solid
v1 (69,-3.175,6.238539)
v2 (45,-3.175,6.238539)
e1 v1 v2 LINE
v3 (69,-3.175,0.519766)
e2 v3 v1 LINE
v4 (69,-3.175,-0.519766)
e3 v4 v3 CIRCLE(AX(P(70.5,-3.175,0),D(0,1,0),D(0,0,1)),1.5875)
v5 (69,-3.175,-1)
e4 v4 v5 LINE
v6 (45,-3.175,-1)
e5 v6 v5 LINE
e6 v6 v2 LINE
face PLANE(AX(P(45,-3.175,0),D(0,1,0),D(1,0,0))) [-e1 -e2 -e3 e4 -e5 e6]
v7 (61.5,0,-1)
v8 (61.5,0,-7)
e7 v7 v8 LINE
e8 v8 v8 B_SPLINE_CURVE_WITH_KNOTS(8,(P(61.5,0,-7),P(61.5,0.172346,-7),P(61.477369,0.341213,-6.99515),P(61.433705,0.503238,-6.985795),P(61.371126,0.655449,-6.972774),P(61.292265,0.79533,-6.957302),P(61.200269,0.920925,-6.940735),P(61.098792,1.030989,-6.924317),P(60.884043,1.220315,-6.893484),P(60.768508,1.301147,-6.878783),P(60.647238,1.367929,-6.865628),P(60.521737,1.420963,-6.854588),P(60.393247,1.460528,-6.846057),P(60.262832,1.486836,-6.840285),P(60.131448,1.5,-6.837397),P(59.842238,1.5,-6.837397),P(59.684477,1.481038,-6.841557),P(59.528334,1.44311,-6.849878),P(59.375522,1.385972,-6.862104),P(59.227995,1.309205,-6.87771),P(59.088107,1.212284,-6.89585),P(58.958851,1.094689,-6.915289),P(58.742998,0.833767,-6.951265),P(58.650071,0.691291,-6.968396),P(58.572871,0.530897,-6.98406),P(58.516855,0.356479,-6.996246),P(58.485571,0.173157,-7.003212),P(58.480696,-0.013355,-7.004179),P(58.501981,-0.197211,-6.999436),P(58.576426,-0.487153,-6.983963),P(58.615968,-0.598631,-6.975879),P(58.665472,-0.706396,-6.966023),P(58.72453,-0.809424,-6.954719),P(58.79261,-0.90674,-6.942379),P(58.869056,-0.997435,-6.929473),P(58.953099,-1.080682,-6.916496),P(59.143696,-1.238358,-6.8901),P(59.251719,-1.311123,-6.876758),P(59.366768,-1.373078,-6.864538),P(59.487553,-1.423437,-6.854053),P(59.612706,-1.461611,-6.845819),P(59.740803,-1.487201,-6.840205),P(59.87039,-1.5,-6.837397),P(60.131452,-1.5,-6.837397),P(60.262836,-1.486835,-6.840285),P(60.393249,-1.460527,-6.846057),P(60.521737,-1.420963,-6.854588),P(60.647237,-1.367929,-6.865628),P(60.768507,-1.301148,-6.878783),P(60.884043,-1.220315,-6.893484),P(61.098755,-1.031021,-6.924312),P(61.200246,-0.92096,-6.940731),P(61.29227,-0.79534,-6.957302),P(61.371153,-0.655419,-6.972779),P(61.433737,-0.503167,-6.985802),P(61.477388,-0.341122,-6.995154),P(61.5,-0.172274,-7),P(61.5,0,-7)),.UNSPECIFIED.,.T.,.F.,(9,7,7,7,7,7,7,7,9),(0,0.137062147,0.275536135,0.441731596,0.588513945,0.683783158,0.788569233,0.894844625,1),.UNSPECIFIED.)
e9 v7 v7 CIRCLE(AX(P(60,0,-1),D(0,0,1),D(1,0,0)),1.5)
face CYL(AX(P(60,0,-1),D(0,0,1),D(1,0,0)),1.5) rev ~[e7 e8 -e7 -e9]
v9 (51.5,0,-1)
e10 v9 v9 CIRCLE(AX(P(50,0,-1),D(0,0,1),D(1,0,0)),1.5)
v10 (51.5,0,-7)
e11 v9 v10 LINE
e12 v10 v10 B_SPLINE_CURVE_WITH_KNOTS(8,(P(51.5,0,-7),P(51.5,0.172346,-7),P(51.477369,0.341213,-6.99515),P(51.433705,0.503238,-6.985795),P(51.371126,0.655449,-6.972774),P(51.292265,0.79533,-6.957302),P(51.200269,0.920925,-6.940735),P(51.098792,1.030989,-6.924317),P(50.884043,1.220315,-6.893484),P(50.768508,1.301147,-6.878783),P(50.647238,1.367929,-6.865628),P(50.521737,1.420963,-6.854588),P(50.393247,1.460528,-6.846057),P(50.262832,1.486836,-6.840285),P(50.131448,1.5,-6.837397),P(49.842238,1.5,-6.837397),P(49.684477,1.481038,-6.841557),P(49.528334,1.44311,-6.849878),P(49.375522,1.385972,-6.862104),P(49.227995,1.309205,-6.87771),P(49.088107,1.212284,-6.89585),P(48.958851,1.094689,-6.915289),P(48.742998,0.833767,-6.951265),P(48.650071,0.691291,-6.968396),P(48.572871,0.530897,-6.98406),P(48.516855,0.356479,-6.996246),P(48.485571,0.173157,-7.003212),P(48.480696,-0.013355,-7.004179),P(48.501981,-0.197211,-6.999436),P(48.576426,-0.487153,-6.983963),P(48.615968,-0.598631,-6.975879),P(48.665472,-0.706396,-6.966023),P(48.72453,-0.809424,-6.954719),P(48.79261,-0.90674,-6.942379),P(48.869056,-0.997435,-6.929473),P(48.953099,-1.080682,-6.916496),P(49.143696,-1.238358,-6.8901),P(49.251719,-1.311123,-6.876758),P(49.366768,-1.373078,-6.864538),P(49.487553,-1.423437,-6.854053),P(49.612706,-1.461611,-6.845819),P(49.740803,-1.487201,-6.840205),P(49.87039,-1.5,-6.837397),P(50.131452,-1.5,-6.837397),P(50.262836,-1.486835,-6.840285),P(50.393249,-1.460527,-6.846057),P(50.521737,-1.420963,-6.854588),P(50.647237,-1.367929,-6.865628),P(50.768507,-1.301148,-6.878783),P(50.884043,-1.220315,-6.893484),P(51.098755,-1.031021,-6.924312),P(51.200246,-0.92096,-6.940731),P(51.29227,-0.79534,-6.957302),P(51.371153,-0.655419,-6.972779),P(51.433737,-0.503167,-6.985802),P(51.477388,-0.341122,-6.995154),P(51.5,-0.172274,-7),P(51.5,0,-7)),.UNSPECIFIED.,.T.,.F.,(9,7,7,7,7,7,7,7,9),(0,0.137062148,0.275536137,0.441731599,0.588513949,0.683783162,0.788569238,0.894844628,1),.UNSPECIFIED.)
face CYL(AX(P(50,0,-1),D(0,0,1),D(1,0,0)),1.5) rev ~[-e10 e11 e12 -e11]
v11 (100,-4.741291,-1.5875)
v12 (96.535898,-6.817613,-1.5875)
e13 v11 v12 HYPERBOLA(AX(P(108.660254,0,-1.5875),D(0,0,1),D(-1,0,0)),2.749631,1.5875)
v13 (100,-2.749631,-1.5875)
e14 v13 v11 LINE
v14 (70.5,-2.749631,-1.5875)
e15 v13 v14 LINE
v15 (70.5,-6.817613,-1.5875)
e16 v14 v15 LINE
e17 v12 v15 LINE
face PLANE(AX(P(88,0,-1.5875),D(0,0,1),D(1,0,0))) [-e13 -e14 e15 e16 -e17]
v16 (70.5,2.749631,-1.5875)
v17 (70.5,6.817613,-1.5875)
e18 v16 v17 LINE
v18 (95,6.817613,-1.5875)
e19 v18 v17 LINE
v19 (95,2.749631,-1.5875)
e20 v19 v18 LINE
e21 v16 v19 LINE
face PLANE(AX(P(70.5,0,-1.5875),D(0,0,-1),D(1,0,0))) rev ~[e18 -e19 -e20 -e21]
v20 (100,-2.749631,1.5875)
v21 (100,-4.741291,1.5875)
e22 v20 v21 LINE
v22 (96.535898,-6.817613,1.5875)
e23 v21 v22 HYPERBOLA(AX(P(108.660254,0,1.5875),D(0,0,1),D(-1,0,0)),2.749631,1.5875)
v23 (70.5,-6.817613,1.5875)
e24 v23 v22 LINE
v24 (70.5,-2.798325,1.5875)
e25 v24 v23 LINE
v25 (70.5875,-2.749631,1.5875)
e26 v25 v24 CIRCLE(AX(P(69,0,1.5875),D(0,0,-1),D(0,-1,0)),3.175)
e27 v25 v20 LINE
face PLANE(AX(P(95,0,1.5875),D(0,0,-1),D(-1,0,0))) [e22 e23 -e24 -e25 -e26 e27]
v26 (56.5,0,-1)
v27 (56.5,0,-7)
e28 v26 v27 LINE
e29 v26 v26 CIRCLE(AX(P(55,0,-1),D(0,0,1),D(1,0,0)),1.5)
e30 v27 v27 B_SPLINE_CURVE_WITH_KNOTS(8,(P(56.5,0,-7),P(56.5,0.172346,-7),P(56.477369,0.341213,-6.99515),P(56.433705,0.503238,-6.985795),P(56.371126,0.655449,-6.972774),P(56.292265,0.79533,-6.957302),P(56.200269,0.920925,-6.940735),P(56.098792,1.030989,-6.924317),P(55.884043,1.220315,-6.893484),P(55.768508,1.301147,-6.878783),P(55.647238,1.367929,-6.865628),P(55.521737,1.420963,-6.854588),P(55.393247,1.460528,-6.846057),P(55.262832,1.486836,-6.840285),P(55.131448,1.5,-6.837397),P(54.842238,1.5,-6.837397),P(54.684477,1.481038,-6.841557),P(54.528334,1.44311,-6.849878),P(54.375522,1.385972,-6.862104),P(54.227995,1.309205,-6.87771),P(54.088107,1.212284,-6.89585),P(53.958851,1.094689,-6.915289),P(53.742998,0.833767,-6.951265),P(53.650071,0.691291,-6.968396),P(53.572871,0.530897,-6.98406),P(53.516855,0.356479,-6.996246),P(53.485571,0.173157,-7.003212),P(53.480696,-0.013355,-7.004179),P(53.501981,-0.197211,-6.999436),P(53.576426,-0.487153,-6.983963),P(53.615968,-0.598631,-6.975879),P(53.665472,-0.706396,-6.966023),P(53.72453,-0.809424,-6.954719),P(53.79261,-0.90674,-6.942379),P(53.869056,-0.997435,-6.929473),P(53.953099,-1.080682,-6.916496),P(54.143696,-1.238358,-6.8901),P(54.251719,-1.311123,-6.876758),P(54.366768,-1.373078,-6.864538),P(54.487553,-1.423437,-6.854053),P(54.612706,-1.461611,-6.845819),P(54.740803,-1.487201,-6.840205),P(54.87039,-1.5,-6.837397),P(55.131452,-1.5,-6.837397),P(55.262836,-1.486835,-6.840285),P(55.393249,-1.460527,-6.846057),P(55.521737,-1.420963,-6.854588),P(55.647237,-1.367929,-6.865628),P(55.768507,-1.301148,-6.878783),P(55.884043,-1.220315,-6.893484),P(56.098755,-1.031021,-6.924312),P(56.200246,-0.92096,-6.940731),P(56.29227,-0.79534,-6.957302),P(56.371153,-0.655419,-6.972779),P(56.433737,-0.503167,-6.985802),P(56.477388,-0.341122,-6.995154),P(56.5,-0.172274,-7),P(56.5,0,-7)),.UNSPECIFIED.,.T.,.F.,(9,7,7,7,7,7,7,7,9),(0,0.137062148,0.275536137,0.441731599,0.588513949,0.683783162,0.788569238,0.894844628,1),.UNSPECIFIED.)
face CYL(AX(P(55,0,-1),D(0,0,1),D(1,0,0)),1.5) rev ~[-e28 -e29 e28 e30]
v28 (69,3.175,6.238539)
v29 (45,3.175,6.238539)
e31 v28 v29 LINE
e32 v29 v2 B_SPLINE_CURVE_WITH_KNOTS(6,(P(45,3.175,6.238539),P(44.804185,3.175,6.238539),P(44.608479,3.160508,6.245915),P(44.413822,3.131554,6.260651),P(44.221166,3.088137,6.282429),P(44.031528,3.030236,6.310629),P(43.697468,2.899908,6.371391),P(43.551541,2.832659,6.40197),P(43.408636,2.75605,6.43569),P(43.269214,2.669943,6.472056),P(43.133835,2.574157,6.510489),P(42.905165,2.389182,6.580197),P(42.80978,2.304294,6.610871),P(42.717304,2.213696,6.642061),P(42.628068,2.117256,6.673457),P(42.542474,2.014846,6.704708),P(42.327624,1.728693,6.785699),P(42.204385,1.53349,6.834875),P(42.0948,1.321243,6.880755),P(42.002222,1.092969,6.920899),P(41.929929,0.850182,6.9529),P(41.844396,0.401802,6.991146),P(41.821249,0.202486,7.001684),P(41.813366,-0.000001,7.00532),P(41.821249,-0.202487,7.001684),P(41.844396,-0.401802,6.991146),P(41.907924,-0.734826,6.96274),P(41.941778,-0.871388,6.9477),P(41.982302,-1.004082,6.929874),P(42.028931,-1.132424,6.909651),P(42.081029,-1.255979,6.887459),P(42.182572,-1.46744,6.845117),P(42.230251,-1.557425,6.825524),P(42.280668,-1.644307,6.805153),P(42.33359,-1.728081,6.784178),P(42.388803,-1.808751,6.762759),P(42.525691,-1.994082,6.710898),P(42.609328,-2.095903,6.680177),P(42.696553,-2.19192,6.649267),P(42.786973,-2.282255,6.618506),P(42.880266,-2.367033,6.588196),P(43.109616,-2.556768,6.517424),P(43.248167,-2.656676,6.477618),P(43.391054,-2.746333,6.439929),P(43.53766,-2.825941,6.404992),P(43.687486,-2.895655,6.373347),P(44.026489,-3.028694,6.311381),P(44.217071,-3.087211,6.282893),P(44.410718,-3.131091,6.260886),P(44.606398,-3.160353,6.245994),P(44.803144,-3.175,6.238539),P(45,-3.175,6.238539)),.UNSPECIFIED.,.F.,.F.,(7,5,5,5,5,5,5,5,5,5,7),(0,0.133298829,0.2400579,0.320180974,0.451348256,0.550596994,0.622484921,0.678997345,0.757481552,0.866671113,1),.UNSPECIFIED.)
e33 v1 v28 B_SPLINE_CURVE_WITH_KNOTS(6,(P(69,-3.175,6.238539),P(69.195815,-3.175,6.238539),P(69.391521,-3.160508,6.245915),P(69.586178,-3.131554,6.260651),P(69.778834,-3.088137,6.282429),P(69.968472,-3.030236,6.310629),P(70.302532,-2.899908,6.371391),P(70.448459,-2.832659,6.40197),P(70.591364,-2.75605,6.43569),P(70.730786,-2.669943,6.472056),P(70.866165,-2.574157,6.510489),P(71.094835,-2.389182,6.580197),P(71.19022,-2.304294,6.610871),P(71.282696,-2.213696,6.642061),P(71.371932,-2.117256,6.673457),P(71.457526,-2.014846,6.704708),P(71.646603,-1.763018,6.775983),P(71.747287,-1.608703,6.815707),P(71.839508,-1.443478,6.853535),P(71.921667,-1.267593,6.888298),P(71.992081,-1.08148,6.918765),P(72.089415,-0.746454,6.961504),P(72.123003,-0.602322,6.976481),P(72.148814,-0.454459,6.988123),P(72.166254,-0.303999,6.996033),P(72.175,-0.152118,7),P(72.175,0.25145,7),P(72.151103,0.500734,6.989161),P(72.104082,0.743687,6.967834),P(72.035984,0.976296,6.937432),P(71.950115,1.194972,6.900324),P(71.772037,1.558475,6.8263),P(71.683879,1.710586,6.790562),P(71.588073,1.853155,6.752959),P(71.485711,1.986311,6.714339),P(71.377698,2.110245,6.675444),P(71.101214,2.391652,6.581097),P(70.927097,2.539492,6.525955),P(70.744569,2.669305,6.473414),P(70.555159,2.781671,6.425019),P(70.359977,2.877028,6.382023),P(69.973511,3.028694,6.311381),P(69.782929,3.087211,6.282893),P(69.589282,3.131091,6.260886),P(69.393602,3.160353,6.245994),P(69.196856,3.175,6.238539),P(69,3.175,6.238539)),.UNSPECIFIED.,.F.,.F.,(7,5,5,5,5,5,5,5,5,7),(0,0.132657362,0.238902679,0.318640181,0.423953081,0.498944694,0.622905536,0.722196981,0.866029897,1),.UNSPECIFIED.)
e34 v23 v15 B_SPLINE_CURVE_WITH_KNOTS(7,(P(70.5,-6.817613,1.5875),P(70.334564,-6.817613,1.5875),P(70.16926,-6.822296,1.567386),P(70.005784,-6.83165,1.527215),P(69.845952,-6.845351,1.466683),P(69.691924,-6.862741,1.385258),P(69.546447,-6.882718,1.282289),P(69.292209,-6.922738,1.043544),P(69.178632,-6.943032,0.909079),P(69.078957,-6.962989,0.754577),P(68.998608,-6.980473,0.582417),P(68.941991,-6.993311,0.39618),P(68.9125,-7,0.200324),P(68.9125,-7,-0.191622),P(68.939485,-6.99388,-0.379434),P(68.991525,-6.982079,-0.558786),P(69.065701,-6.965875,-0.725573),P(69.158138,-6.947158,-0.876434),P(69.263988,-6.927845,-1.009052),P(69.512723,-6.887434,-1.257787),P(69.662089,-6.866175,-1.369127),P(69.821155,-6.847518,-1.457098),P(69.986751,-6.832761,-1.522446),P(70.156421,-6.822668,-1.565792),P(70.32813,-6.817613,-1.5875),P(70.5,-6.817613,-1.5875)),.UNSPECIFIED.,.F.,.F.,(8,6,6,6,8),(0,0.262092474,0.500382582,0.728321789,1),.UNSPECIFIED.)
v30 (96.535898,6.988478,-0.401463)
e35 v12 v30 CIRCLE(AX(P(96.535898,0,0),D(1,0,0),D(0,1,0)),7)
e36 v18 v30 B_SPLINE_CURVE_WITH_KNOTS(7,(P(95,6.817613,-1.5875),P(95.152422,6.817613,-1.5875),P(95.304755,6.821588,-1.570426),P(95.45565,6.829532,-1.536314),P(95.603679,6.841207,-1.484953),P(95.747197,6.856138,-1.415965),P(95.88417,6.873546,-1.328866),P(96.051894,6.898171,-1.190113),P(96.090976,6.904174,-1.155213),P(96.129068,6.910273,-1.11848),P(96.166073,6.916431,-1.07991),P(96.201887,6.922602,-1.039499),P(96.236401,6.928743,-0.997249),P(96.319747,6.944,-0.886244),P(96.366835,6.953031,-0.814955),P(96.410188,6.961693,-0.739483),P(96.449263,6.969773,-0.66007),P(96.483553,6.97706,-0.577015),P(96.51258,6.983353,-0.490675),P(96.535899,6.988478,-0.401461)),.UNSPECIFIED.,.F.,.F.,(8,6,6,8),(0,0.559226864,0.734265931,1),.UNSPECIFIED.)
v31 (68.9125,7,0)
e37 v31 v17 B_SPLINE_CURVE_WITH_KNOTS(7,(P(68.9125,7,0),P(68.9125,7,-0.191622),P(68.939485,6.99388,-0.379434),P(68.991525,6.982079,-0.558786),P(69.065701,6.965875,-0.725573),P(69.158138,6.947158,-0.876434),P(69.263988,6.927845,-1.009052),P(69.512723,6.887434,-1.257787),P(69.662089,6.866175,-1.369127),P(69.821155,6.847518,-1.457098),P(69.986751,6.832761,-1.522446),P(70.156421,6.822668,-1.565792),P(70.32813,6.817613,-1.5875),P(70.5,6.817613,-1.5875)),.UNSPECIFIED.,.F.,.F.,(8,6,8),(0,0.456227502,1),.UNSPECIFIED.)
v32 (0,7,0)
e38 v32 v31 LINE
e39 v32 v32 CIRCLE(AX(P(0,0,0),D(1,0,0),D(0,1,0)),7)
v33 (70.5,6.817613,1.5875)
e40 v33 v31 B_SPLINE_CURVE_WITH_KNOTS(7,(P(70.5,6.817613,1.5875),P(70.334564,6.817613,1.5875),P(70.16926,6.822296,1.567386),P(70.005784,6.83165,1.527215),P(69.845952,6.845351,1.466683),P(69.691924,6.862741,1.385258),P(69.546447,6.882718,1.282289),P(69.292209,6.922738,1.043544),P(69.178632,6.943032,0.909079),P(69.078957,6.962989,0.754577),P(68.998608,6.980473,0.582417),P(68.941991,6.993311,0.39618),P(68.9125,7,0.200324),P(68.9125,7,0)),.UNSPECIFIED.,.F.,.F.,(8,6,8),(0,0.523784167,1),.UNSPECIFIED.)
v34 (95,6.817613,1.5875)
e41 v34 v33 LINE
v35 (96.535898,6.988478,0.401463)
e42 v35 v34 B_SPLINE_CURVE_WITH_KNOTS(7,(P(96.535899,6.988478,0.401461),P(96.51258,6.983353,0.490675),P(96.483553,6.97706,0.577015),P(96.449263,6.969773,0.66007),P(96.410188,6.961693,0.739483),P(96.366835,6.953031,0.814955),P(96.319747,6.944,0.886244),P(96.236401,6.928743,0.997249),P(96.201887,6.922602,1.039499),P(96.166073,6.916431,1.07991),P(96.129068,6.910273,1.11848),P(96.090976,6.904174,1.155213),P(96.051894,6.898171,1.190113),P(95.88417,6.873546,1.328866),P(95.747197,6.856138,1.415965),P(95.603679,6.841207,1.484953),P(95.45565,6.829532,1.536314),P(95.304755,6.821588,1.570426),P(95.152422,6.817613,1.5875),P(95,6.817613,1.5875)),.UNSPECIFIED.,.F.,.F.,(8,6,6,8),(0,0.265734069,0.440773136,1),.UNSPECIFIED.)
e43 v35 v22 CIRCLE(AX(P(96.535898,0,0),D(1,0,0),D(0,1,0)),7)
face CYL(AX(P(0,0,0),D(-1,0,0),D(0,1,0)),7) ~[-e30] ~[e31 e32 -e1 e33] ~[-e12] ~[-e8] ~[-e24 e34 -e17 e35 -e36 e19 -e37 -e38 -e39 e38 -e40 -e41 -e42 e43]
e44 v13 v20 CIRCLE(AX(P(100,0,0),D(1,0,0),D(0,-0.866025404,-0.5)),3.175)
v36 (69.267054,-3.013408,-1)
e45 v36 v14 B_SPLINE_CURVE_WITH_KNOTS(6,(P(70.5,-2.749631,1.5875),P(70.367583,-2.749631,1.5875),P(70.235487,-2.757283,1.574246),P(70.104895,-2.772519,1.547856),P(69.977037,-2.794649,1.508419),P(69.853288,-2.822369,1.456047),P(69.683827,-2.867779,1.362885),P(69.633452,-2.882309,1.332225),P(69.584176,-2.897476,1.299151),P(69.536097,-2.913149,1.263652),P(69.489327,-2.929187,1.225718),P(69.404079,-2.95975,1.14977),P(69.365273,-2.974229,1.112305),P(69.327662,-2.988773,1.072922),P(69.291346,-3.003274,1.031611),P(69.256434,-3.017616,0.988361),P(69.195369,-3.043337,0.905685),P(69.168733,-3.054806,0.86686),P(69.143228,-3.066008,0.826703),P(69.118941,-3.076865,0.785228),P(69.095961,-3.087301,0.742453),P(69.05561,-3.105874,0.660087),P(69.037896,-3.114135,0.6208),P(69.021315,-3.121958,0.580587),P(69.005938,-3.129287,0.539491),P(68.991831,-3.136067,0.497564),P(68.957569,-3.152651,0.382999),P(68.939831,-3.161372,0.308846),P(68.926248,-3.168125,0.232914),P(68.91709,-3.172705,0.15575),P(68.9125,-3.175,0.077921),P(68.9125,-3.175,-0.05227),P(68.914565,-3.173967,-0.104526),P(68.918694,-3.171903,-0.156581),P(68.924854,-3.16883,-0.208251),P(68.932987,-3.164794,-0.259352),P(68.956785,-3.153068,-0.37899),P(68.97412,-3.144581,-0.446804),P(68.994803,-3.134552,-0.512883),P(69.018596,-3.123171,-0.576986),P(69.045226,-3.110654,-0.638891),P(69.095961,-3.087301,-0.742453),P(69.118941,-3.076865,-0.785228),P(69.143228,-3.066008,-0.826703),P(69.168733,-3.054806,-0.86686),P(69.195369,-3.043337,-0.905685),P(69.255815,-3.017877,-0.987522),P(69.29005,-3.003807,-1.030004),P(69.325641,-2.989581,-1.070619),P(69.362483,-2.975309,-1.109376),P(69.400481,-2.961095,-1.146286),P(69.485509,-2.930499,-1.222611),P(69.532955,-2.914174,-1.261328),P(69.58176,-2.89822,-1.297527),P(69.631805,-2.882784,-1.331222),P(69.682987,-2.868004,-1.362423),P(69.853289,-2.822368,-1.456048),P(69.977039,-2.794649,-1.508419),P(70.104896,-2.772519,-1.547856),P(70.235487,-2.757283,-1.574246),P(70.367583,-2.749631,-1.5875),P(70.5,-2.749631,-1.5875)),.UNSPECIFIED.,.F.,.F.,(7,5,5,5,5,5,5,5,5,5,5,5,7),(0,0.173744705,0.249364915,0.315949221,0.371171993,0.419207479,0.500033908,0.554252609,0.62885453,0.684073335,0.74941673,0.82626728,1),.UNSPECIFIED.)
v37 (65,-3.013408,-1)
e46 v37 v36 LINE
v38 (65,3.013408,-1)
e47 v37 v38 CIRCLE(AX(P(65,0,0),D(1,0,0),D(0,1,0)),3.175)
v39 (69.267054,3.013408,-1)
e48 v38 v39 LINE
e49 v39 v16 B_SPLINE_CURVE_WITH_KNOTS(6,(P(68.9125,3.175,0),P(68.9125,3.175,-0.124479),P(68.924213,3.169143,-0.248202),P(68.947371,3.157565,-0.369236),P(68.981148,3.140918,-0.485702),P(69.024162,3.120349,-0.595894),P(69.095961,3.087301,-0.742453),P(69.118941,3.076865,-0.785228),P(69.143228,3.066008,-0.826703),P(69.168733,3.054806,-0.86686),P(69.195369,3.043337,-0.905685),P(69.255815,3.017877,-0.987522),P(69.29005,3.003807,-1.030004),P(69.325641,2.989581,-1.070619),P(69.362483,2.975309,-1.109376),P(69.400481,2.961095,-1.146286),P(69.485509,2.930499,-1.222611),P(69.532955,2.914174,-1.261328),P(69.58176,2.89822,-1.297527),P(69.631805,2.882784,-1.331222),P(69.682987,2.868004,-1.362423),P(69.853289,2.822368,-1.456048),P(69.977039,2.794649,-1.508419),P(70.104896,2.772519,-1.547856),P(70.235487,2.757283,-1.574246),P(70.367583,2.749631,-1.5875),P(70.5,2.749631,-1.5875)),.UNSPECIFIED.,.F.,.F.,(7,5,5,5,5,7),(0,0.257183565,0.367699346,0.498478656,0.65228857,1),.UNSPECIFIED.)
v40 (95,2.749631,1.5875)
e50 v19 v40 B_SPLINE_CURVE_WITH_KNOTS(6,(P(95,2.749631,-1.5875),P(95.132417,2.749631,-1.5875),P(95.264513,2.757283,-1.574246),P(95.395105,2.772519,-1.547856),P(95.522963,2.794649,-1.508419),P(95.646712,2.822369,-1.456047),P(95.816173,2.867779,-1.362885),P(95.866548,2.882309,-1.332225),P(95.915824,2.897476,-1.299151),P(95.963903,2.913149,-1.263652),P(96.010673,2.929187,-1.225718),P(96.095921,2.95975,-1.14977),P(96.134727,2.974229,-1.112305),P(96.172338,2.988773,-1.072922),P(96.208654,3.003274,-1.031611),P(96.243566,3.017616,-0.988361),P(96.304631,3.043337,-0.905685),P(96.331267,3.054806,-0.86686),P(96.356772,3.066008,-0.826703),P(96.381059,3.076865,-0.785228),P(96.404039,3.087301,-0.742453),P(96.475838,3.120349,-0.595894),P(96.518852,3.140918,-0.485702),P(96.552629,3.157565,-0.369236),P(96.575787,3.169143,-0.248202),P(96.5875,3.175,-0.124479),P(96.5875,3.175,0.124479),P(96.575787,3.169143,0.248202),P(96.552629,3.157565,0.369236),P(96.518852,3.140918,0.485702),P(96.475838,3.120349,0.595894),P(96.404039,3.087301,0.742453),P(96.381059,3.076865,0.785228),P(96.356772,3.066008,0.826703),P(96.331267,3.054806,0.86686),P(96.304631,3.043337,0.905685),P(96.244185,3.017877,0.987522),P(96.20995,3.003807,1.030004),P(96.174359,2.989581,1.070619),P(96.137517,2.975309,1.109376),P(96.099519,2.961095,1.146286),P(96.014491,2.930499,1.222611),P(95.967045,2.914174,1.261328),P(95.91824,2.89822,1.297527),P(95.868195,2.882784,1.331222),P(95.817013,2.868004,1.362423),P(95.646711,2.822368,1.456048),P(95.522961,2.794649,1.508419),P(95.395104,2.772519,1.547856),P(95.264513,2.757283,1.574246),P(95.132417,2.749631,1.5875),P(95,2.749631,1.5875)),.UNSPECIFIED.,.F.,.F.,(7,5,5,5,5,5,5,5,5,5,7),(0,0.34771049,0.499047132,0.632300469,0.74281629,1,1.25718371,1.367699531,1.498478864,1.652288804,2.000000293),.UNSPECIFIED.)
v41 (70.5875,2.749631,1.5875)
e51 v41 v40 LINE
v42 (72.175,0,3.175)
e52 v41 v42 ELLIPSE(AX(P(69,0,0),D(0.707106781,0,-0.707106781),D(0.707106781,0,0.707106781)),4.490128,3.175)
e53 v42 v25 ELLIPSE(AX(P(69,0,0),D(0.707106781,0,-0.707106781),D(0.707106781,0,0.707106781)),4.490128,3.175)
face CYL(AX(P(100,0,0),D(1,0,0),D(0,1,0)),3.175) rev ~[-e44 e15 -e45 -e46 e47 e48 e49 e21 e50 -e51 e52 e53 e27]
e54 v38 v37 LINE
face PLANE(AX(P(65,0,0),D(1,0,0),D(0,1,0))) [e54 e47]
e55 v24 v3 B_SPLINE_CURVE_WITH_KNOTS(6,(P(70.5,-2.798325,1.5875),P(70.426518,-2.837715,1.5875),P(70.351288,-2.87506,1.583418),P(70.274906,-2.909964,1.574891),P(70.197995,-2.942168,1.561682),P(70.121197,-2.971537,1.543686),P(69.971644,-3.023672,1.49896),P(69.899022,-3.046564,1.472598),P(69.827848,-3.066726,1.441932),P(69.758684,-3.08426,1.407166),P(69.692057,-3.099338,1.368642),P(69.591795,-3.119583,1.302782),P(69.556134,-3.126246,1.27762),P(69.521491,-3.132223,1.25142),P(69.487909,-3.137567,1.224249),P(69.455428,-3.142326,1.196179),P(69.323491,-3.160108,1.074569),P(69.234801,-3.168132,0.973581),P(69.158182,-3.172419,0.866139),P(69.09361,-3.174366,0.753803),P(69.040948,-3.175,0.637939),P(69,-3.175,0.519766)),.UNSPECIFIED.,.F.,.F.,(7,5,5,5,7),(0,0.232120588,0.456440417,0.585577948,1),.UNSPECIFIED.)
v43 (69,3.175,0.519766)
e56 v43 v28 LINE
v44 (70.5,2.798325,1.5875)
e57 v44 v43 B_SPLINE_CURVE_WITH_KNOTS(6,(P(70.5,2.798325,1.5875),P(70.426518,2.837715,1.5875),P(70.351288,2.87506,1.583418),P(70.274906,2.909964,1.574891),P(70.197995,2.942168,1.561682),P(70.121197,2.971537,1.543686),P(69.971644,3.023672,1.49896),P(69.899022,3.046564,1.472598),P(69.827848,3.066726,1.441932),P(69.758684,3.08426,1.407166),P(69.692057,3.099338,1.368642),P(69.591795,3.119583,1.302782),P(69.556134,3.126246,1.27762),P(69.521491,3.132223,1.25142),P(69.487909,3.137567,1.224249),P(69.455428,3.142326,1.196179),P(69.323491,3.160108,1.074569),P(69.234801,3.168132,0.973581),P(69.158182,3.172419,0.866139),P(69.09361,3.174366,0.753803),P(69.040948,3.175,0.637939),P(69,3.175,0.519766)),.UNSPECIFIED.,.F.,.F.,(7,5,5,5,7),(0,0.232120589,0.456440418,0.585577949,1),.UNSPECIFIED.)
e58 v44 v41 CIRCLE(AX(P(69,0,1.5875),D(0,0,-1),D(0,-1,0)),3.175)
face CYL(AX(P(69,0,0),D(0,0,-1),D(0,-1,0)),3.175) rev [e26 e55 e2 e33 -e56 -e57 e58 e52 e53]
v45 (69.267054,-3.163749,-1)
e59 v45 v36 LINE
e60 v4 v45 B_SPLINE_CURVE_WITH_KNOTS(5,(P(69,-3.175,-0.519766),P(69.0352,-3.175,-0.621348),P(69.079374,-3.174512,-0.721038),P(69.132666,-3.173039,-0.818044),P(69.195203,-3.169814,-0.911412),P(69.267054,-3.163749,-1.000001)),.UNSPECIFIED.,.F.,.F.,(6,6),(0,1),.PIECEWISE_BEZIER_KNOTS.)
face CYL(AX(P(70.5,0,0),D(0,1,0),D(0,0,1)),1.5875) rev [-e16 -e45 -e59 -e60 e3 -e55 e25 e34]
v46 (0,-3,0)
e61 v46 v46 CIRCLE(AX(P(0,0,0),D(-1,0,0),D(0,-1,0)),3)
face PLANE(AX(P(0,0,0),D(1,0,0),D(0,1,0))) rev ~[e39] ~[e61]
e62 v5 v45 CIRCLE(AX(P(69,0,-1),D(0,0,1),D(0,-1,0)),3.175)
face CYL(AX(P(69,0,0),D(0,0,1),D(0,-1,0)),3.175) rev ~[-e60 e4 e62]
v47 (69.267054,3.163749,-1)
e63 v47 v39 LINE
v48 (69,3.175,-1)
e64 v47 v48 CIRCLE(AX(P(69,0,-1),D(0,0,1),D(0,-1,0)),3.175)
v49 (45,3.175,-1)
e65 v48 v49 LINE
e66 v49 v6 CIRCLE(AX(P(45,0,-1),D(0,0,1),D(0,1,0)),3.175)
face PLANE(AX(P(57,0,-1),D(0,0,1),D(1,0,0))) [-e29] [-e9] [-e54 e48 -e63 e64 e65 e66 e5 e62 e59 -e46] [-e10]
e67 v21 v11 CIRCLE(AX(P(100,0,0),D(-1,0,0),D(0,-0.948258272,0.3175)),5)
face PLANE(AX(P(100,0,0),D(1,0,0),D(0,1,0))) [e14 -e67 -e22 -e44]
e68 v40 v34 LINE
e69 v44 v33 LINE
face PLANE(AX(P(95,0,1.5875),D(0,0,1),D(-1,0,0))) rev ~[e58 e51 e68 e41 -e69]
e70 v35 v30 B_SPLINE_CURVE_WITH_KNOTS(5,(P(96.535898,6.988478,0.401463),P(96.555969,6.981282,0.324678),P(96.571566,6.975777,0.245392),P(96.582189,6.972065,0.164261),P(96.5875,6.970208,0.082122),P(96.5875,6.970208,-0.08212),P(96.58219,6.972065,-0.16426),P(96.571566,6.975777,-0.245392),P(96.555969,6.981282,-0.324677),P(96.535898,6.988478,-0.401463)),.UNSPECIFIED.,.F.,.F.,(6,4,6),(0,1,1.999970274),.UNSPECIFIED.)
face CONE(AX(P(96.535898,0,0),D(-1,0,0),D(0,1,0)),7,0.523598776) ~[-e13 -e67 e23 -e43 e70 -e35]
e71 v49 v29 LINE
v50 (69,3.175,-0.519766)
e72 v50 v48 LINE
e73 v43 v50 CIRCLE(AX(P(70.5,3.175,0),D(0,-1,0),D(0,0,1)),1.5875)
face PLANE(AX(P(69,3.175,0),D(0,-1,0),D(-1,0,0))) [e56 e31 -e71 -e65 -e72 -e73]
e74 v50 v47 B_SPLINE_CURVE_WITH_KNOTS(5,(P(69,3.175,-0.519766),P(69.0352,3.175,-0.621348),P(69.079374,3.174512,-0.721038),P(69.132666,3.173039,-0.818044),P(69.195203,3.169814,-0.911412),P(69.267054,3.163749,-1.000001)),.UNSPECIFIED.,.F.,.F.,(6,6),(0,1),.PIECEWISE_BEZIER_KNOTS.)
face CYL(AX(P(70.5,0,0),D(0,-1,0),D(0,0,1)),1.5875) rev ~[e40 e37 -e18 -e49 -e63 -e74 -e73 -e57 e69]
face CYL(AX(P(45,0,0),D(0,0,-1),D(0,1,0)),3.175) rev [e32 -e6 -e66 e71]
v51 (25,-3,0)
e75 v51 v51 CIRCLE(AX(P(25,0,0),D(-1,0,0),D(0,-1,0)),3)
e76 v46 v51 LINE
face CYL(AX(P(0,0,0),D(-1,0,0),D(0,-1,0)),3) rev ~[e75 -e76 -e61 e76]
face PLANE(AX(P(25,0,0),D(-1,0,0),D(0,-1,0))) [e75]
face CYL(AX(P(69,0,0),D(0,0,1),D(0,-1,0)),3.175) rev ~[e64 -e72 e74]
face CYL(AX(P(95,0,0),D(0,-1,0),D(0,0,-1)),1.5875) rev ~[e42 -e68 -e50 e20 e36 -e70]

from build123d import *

# Parameters (mm, degrees)
F0_R           = 7
F1_DEPTH       = 100
F2_R           = 3.175
F3_DEPTH       = 35
F4_R           = 3
F5_DEPTH       = 25
F6_SIZE2       = 3.4641016151
F6_SIZE        = 2
F8_DEPTH       = 7.001
F8_DEPTH_BACK  = 1
F10_DEPTH      = 7.0010001
F10_DEPTH_BACK = 7.0010001
F11_W          = 15
F11_H          = 3.175
F12_DEPTH      = 25.0000003725
F13_R          = 1.5
F14_DEPTH      = 6.0010001


with BuildPart() as f1:
    # F0 (on Right) → F1 (new body)
    with BuildSketch(Plane.YZ):
        Circle(F0_R)
    extrude(amount=F1_DEPTH)

    # F2 (on face) → F3 (cut)
    with BuildSketch(Plane.YZ.offset(100)):
        Circle(F2_R)
    extrude(amount=-F3_DEPTH, mode=Mode.SUBTRACT)

    # F4 (on face) → F5 (cut)
    with BuildSketch(Plane(origin=(0, 0, 0), x_dir=(0, -1, 0), z_dir=(-1, 0, 0))):
        Circle(F4_R)
    extrude(amount=-F5_DEPTH, mode=Mode.SUBTRACT)

    # F6
    f6_edges = [f1.edges().sort_by_distance(p)[0] for p in [
        (100, -7, 0),
    ]]
    f6_side = f1.faces().sort_by_distance((100, -6.80201, 0))[0]
    chamfer(f6_edges, length=F6_SIZE, length2=F6_SIZE2, reference=f6_side)

    # F7 (on Top) → F8 (cut, two sides)
    with BuildSketch(Plane.XY) as f8_sk:
        with BuildLine():
            Line((69, 3.175), (45, 3.175))
            ThreePointArc((45, 3.175), (41.825, 0), (45, -3.175))
            Line((45, -3.175), (69, -3.175))
            ThreePointArc((69, -3.175), (72.175, 0), (69, 3.175))
        make_face()
    extrude(amount=F8_DEPTH, mode=Mode.SUBTRACT)
    extrude(f8_sk.sketch, amount=-F8_DEPTH_BACK, mode=Mode.SUBTRACT)

    # F9 (on Front) → F10 (cut, two sides)
    with BuildSketch(Plane.XZ) as f10_sk:
        with BuildLine():
            Line((95, 1.5875), (70.5, 1.5875))
            ThreePointArc((70.5, 1.5875), (68.9125, 0), (70.5, -1.5875))
            Line((70.5, -1.5875), (95, -1.5875))
            ThreePointArc((95, -1.5875), (96.5875, 0), (95, 1.5875))
        make_face()
    extrude(amount=-F10_DEPTH, mode=Mode.SUBTRACT)
    extrude(f10_sk.sketch, amount=F10_DEPTH_BACK, mode=Mode.SUBTRACT)

    # F11 (on Front) → F12 (cut)
    with BuildSketch(Plane.XZ):
        with Locations((95.5, 0)):
            Rectangle(F11_W, F11_H)
    extrude(amount=F12_DEPTH, mode=Mode.SUBTRACT)

    # F13 (on face) → F14 (cut, through all)
    with BuildSketch(Plane.XY.offset(-1)):
        with Locations((50, 0)):
            Circle(F13_R)
        with Locations((55, 0)):
            Circle(F13_R)
        with Locations((60, 0)):
            Circle(F13_R)
    extrude(amount=-F14_DEPTH, mode=Mode.SUBTRACT)


solid = f1.part
